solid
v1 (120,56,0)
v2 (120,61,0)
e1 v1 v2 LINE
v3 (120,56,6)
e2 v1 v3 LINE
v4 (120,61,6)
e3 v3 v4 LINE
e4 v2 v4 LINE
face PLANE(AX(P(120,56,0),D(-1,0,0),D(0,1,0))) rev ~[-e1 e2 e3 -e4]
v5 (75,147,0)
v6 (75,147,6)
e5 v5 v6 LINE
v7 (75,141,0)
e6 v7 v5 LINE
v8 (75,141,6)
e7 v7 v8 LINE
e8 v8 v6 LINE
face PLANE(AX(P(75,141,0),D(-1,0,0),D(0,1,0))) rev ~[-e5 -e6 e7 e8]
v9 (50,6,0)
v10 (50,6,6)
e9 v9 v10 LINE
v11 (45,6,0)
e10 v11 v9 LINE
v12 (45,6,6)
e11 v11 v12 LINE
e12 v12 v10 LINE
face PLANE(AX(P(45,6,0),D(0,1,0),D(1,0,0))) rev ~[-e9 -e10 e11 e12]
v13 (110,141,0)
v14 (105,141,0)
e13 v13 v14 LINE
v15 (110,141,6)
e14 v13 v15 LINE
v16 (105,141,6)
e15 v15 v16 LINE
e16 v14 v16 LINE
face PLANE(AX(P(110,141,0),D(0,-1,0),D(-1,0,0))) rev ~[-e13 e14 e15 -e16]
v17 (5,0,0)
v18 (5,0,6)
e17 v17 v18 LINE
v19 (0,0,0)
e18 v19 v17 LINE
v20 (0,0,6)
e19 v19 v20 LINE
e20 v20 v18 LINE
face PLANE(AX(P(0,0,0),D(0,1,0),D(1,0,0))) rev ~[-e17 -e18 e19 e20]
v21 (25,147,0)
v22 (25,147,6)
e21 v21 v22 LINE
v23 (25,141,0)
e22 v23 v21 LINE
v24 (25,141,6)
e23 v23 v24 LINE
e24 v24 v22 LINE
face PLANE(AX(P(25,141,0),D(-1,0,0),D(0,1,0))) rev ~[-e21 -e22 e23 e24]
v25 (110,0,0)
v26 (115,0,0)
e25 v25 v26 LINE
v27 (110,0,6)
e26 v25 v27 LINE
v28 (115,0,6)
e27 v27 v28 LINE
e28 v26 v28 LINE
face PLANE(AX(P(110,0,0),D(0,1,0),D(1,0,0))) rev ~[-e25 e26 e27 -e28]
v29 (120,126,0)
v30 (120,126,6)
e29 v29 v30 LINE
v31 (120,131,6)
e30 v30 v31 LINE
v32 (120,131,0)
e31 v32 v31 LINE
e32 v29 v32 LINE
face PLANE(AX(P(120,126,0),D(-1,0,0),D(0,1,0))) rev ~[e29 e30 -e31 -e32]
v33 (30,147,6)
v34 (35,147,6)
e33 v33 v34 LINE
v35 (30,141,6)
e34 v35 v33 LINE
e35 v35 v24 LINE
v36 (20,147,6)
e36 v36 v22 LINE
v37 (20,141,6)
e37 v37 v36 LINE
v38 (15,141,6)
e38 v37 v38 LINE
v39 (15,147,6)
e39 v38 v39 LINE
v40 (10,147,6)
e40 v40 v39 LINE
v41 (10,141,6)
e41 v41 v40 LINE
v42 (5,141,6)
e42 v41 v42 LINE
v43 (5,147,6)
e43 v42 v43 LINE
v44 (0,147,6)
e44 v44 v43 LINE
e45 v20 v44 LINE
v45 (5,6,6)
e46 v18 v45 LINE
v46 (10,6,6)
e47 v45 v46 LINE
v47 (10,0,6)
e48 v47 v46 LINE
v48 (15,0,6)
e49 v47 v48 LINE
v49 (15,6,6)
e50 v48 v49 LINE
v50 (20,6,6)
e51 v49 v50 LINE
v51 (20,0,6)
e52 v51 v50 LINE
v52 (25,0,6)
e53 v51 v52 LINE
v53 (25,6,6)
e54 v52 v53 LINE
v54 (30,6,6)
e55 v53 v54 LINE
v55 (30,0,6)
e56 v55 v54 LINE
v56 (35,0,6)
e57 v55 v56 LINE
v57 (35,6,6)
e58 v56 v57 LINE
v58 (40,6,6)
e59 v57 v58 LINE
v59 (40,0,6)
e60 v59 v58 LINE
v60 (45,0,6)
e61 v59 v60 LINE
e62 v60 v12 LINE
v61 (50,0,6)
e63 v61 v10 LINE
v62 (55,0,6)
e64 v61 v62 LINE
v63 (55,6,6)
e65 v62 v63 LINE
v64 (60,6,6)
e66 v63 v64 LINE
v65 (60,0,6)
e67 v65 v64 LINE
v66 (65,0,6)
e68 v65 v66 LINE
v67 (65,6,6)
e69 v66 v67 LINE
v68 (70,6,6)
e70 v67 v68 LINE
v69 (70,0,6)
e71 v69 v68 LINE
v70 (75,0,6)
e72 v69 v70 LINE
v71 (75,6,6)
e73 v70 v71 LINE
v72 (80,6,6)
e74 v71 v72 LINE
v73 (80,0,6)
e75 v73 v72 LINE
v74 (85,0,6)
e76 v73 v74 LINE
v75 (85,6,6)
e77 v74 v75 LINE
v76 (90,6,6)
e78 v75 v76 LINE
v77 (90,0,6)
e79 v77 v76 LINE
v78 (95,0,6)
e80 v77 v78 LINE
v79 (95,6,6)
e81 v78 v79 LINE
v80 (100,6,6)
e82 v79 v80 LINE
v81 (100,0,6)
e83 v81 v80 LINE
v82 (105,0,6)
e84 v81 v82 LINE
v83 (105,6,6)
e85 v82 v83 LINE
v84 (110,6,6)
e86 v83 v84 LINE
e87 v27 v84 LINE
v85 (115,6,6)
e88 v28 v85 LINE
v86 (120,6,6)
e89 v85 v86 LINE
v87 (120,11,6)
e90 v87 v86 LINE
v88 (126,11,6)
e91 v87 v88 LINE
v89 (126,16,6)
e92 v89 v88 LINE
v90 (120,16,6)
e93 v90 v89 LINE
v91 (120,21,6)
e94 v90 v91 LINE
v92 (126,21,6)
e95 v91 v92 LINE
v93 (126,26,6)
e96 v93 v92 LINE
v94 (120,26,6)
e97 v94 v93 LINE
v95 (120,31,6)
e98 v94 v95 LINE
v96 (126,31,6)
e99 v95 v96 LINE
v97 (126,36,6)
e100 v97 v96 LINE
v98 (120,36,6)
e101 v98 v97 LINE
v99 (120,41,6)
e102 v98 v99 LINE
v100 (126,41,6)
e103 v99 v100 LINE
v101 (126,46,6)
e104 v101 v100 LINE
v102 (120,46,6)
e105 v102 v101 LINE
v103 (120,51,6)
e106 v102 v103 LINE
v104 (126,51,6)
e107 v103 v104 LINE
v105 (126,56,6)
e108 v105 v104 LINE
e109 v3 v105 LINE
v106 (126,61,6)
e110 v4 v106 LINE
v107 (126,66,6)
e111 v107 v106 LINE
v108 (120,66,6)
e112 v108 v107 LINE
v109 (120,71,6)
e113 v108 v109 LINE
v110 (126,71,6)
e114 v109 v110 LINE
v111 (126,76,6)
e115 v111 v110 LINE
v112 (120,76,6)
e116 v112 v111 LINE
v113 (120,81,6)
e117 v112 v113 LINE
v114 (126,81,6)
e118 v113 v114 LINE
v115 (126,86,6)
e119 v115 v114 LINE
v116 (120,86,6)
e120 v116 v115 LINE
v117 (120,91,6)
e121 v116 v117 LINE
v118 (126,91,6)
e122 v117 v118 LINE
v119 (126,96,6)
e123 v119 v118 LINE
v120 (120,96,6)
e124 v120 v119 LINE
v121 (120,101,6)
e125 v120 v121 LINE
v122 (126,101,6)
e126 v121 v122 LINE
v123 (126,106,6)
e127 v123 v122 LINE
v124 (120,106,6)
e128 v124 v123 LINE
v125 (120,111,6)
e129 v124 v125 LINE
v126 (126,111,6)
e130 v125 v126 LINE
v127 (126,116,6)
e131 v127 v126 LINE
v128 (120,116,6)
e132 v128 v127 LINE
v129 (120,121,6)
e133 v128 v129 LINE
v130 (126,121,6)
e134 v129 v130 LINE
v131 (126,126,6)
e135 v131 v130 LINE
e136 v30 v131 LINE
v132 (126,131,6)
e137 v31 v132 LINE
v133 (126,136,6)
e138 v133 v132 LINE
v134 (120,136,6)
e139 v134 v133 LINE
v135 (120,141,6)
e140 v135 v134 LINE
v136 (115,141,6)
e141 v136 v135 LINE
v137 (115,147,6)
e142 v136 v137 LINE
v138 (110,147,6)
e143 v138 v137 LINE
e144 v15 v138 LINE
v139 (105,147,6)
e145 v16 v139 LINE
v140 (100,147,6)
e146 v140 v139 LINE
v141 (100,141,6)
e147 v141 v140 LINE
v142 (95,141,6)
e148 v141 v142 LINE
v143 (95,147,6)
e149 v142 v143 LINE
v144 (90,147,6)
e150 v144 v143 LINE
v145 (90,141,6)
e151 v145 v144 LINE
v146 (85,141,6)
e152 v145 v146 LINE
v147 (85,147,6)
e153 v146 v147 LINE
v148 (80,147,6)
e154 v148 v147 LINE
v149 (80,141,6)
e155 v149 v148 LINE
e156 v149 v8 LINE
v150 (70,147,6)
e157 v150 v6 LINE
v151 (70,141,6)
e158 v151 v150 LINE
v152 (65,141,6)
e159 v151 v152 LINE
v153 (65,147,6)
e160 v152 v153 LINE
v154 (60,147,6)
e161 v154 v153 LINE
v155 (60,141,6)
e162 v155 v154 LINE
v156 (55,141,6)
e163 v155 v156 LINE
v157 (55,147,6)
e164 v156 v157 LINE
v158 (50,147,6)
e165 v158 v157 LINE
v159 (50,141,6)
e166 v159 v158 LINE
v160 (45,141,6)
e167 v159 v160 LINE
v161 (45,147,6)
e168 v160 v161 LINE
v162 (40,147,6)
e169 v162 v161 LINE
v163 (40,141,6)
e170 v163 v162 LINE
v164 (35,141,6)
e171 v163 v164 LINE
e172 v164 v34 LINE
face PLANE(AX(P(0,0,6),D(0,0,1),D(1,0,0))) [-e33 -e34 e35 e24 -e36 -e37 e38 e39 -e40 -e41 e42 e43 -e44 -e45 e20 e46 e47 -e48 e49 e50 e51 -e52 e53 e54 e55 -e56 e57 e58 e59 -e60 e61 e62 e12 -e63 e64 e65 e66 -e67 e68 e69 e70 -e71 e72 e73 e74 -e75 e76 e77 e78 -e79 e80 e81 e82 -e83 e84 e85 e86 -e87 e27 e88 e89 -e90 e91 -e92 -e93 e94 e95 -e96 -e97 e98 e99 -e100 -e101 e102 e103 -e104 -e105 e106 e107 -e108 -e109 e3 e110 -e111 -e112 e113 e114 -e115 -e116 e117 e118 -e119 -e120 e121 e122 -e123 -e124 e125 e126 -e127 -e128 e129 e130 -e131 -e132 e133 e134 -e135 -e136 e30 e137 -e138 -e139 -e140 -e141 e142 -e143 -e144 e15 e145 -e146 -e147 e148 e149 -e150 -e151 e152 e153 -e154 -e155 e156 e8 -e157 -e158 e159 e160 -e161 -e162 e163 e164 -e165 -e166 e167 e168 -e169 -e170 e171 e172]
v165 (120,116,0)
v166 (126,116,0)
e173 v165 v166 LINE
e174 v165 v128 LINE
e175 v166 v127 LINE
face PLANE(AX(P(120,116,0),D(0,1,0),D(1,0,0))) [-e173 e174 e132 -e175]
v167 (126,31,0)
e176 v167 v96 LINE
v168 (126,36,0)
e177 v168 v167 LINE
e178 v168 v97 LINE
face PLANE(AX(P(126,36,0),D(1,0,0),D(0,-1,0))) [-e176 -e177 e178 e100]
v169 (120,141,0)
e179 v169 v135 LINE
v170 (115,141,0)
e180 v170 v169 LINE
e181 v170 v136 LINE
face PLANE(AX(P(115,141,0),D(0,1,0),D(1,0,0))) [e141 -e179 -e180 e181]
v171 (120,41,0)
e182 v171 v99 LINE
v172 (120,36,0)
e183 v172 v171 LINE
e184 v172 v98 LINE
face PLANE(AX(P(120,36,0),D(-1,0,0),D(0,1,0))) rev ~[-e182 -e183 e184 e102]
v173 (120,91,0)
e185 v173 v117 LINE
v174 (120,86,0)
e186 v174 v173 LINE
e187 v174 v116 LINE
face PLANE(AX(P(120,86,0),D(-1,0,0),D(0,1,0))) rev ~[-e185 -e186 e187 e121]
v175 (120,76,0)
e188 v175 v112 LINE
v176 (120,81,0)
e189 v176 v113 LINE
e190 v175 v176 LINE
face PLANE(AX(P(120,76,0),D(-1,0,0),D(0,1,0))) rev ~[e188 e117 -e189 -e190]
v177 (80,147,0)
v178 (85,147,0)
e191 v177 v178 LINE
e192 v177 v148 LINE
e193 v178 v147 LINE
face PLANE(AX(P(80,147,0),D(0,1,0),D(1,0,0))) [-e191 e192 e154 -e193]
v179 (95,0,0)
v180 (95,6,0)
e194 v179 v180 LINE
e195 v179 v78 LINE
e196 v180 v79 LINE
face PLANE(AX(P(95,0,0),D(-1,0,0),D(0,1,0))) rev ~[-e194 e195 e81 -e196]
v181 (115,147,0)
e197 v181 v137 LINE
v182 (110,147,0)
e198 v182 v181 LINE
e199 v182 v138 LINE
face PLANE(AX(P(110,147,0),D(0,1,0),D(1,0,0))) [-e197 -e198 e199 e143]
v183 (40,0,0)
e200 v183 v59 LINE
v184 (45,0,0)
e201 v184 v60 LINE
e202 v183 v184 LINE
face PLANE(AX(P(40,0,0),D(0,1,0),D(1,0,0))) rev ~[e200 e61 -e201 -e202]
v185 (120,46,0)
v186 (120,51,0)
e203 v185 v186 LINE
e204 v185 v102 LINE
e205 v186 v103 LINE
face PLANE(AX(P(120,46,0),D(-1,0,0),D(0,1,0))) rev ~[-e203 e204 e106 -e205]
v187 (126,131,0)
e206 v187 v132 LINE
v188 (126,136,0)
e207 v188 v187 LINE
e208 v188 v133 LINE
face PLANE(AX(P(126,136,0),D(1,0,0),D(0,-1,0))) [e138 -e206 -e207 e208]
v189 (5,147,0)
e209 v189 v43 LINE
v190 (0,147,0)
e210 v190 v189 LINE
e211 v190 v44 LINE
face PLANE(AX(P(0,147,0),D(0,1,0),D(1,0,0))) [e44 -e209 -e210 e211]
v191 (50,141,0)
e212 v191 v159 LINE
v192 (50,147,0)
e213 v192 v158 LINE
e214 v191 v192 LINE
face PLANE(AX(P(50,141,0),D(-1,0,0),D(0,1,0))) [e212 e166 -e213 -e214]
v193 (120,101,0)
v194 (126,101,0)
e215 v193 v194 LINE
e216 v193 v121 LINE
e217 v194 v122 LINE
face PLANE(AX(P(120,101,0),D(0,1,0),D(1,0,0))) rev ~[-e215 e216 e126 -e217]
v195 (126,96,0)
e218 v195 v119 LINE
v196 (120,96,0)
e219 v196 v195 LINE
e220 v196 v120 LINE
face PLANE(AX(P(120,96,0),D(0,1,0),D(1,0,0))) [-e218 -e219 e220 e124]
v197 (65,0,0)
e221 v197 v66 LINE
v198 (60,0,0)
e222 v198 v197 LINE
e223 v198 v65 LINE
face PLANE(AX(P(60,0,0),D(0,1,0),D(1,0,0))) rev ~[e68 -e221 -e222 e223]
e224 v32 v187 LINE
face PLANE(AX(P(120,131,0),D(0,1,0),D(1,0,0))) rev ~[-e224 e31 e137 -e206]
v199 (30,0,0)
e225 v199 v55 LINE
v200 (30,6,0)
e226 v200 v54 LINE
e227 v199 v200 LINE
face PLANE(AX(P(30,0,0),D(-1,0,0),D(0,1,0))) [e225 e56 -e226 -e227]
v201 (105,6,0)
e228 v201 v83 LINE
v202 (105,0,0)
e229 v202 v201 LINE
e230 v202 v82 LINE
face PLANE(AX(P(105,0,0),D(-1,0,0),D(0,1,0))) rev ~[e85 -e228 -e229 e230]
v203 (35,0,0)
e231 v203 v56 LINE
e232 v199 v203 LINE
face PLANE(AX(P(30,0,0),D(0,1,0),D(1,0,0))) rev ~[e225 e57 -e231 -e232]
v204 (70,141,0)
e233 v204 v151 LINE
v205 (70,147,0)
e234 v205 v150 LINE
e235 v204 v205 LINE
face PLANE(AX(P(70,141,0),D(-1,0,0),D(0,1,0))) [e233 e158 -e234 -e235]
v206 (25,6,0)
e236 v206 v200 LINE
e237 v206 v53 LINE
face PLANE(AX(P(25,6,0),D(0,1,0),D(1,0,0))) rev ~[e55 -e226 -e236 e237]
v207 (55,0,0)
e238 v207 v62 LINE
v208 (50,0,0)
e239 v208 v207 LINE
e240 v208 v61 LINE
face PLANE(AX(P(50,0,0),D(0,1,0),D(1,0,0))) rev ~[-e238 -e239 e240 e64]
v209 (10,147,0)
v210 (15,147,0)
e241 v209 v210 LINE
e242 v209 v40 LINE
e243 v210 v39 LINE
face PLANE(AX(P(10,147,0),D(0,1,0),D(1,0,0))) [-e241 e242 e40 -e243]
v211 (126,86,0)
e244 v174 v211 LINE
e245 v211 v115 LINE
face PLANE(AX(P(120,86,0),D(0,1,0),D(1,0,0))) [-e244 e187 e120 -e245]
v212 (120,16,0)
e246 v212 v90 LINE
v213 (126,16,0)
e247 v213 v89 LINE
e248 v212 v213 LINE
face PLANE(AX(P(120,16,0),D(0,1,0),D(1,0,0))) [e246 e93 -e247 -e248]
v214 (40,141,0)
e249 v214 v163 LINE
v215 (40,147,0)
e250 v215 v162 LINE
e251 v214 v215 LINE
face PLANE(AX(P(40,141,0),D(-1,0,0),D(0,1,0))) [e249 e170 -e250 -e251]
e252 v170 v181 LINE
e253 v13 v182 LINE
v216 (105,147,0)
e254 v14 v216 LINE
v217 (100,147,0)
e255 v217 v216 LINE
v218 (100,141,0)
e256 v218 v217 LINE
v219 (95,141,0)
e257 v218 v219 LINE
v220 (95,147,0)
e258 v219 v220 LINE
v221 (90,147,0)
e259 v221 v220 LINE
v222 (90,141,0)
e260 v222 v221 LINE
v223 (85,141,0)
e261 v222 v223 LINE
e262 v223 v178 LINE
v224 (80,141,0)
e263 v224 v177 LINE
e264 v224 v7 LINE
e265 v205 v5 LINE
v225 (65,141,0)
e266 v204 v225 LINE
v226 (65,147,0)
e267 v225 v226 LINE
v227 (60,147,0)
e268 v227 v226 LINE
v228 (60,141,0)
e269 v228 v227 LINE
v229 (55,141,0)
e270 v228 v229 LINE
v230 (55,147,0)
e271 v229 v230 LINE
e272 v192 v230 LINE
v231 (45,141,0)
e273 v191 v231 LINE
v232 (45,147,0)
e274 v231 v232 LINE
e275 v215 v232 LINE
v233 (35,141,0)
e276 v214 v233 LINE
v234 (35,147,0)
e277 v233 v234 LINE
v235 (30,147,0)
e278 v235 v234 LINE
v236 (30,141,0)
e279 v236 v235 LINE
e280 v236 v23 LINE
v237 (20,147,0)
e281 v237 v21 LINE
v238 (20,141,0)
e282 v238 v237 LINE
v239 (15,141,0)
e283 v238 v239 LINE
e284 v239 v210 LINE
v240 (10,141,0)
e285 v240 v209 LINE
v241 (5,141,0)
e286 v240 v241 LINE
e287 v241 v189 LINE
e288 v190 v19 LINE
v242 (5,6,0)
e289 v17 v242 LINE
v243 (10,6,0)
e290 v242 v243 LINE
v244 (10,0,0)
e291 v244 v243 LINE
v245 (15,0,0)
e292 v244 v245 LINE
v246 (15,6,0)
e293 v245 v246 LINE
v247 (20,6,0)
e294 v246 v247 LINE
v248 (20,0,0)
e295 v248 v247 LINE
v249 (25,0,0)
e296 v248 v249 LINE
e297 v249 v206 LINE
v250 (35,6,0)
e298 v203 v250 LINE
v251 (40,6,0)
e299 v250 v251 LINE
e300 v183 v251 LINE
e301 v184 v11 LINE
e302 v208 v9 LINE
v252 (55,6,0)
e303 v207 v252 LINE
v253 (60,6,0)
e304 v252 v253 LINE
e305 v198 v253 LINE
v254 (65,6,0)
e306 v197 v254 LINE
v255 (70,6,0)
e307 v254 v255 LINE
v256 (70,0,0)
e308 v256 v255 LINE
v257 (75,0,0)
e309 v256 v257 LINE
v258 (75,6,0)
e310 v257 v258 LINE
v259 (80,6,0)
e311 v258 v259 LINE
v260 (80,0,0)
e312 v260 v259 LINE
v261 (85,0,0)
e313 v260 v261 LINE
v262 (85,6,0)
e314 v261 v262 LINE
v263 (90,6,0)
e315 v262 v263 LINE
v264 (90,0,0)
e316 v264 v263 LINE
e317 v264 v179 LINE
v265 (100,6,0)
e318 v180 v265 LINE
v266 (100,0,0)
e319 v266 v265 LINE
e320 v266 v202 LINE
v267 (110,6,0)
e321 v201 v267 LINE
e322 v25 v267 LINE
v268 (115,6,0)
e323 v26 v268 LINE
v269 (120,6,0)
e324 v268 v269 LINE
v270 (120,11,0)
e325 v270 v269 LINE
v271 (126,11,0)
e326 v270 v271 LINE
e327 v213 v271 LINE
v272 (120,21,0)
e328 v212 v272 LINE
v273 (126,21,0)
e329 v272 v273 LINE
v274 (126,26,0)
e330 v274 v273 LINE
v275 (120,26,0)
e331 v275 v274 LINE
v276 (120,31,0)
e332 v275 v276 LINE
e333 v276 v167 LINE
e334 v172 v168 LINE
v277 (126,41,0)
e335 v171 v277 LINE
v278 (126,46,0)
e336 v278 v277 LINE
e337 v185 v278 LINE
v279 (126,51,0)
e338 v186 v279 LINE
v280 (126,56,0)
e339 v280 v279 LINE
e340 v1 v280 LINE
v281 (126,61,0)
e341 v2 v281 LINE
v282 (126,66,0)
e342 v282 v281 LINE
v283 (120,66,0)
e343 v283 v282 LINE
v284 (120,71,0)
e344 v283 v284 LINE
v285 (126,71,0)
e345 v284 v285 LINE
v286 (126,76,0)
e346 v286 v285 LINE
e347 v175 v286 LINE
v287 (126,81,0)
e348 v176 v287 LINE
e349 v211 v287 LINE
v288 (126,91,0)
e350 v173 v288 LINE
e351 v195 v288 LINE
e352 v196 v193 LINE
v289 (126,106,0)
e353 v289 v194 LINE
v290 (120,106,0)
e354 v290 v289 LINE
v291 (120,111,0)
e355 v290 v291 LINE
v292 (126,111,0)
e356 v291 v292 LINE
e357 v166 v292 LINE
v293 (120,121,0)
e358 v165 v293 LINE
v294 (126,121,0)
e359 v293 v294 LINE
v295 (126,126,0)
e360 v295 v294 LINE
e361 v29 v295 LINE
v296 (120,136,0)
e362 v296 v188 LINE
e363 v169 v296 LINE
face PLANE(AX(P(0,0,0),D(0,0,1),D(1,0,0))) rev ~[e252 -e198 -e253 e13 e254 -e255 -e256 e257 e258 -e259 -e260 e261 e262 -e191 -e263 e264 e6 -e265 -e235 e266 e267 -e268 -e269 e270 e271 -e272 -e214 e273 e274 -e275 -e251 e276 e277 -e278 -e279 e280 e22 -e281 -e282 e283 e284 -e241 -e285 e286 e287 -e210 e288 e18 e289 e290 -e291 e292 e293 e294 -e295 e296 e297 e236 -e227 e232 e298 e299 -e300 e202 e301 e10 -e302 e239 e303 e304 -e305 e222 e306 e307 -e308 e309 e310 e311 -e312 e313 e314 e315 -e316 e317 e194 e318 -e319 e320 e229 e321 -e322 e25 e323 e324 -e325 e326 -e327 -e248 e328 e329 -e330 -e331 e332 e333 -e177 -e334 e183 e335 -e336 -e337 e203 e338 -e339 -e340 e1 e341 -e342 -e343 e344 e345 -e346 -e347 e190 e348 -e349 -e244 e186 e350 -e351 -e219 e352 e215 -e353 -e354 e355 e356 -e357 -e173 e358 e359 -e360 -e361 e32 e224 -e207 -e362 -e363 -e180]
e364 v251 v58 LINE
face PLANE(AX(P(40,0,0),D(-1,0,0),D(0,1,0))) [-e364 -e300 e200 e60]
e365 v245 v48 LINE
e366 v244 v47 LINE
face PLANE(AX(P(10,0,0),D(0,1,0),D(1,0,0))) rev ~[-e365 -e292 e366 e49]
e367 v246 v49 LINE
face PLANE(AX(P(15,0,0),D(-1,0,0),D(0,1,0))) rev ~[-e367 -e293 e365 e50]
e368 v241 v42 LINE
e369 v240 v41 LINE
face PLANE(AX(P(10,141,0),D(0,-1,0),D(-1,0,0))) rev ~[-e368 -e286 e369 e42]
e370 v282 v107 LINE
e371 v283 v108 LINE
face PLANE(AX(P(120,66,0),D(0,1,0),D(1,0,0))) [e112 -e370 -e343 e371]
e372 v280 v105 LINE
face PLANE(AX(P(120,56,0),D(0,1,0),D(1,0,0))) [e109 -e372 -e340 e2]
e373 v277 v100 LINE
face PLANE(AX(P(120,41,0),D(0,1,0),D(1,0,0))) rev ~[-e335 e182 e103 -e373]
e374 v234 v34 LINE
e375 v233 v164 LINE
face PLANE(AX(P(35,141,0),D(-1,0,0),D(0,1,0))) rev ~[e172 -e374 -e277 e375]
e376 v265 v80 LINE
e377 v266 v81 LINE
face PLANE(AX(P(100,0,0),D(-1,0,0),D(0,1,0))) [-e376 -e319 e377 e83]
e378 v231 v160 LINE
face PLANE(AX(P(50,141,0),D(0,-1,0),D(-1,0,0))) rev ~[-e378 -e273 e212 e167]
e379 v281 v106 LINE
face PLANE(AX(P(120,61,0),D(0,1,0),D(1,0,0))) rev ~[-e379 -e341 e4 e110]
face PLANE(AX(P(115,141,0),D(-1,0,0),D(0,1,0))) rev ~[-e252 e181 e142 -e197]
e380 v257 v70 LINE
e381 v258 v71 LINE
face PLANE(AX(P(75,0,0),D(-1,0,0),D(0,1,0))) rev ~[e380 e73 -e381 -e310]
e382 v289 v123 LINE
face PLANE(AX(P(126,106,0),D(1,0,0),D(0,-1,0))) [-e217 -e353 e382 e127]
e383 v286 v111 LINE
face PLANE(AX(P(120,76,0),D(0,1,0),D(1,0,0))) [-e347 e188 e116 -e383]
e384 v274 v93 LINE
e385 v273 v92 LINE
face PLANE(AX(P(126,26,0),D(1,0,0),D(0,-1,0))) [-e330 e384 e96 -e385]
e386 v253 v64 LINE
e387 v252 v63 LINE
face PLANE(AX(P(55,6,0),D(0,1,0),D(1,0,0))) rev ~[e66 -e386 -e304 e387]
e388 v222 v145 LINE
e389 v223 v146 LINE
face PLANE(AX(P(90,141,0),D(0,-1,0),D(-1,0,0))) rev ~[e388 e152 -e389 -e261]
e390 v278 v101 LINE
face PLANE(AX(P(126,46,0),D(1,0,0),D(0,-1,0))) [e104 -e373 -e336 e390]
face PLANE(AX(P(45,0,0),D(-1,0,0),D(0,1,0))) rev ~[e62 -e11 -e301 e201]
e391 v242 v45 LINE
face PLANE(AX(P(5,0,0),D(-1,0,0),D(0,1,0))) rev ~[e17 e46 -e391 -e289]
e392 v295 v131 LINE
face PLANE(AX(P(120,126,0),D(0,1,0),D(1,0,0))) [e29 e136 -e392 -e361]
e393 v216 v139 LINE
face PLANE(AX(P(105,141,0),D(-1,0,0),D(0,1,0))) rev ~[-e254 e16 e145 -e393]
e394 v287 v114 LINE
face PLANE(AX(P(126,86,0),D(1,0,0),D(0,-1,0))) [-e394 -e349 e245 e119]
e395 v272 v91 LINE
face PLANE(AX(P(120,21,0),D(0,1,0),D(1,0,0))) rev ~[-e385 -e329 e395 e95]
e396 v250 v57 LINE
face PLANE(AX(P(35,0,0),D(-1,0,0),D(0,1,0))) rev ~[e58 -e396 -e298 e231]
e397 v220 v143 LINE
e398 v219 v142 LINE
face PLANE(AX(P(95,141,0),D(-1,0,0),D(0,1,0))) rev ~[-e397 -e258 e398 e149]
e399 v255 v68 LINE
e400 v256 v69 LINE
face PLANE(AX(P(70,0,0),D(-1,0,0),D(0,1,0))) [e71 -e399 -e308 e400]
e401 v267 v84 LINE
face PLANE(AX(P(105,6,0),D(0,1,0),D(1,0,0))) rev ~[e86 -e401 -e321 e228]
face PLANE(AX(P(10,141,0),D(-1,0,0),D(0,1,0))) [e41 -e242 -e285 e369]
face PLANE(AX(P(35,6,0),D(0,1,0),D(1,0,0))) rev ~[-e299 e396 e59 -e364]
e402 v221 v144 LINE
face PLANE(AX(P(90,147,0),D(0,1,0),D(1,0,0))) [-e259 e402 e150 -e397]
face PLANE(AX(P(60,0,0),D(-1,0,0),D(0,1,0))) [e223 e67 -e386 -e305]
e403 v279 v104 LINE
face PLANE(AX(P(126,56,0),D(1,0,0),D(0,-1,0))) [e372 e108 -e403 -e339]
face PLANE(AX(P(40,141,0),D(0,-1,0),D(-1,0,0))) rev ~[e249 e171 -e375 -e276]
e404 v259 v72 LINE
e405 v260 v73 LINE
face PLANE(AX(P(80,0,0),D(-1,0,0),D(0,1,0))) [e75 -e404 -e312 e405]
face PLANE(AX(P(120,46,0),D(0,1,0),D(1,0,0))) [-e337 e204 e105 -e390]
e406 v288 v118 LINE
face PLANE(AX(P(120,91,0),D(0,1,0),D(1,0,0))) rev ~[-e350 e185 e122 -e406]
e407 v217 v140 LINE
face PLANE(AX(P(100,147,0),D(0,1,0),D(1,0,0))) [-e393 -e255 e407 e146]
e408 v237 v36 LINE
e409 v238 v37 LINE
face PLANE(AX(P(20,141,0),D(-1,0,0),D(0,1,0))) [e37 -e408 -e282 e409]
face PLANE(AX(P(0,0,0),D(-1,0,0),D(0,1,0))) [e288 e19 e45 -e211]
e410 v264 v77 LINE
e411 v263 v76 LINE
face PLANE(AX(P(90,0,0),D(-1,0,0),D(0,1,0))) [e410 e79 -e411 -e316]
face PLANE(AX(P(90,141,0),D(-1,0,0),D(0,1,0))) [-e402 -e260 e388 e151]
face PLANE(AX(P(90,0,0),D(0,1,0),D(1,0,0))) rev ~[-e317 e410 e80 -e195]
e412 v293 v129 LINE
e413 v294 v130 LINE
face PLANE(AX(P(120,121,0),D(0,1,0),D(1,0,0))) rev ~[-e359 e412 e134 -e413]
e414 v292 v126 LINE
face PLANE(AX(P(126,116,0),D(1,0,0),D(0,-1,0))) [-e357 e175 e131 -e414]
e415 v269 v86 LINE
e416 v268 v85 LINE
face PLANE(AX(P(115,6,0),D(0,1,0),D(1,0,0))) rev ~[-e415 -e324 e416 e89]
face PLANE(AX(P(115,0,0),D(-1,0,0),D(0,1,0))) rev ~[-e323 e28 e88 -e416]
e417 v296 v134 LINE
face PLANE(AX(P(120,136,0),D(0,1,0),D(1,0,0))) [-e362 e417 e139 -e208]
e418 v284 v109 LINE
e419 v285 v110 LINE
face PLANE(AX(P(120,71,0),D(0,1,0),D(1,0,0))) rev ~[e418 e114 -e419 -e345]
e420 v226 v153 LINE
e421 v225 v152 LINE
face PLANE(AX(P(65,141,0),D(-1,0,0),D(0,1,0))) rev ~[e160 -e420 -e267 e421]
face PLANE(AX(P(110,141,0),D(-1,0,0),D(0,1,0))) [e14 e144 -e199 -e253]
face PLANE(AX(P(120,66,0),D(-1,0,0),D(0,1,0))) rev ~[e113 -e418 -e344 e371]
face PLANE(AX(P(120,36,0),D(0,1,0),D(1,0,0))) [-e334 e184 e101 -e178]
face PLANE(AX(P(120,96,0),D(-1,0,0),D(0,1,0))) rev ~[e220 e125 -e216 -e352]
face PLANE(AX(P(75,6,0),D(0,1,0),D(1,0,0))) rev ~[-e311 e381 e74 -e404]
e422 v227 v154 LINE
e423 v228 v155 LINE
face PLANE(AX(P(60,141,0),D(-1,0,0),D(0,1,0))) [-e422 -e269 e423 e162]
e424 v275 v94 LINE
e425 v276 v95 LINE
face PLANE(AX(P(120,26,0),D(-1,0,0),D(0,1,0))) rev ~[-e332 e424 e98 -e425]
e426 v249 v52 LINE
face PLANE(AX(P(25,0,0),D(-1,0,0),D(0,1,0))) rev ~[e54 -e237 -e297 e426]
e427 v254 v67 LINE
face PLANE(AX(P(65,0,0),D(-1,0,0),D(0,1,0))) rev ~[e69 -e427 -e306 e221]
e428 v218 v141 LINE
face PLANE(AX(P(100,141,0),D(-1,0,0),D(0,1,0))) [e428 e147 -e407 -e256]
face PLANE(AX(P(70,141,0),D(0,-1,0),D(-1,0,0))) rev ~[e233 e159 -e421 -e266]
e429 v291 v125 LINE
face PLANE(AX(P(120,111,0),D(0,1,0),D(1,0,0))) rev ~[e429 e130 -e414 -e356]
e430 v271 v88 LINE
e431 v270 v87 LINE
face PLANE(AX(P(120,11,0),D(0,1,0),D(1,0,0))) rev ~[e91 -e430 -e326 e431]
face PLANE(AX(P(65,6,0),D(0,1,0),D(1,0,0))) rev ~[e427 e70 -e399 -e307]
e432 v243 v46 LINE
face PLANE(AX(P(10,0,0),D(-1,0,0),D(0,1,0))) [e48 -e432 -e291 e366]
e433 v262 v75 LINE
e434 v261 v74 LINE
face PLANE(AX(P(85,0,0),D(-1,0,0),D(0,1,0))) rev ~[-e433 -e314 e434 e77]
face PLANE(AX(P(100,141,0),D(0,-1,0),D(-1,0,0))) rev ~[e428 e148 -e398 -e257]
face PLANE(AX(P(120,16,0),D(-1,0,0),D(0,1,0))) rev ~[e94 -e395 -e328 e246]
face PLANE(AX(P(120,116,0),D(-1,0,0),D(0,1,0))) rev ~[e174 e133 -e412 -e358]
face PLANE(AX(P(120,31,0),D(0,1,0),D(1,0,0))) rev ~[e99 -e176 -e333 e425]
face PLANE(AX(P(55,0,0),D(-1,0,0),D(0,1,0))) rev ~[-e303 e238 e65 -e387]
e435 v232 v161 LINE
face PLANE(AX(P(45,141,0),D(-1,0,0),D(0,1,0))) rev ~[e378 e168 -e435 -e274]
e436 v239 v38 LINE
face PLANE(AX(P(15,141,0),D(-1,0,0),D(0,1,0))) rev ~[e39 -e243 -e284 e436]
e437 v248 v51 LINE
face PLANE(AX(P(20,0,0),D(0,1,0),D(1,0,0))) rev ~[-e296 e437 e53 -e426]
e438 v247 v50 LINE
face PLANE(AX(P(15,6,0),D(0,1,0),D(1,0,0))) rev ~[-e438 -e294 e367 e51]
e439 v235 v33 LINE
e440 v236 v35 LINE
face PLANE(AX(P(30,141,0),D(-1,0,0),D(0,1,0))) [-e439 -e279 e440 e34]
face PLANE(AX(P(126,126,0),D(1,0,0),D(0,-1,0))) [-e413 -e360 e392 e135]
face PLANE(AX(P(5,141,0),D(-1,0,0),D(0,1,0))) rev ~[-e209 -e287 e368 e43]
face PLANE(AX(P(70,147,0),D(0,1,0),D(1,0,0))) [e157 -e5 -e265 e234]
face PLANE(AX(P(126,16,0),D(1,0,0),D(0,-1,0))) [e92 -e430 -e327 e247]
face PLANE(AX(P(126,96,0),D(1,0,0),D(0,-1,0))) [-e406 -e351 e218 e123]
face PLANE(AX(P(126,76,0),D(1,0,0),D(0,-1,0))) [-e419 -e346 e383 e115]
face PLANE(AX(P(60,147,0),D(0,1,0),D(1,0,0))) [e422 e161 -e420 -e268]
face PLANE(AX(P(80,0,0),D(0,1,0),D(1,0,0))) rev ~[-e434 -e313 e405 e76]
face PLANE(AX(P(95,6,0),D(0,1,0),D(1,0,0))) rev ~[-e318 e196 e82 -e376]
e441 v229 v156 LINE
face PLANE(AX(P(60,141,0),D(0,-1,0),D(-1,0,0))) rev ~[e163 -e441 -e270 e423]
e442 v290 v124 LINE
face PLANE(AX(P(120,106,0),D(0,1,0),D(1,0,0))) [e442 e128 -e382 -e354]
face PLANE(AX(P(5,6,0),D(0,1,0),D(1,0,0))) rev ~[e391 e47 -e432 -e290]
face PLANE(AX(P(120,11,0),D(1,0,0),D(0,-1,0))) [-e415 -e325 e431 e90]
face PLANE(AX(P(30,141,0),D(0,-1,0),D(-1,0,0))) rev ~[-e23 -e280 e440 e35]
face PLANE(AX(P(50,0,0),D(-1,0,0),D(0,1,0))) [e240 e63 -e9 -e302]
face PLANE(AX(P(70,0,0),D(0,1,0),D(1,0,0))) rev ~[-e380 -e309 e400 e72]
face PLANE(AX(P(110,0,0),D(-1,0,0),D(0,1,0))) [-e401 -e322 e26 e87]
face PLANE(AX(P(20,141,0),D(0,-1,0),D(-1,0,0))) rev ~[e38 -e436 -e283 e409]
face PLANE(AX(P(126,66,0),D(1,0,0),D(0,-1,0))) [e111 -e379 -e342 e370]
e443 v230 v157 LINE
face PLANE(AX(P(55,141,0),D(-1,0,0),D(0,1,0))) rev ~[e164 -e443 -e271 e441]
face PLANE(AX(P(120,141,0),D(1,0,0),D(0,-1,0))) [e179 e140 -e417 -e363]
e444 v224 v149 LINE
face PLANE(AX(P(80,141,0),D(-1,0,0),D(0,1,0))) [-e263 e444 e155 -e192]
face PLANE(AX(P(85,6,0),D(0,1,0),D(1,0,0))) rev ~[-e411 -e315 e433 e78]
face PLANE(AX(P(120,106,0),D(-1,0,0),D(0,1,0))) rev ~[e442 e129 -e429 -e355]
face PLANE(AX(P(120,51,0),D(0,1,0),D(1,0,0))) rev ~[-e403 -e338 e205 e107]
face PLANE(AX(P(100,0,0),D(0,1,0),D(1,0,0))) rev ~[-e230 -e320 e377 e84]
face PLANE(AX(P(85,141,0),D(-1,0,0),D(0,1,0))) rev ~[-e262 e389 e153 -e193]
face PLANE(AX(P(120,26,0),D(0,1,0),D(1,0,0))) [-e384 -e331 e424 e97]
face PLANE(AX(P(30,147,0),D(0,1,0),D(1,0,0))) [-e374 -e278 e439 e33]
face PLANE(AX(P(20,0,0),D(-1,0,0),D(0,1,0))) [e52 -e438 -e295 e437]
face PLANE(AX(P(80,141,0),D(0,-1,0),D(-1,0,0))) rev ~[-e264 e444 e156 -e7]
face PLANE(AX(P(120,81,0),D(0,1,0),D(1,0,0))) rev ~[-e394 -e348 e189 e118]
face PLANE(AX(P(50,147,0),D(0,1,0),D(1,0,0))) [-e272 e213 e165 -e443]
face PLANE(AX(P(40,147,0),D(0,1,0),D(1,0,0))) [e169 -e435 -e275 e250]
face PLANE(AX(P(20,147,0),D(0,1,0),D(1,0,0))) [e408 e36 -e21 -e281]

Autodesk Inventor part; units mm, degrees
ref_plane "YZ Plane" through (0, 0, 0) normal (1, 0, 0) x (0, 1, 0)
ref_plane "XZ Plane" through (0, 0, 0) normal (0, 1, 0) x (-1, 0, 0)
ref_plane "XY Plane" through (0, 0, 0) normal (0, 0, 1) x (1, 0, 0)
sketch "Эскиз1" plane through (0, 0, 0) normal (0, 0, 1) x (1, 0, 0)
  line L0 (0, 0) -> (5, 0) projected
  line L1 (5, 0) -> (5, 6) projected
  line L2 (0, 6) -> (5, 6) projected
  line L3 (0, 0) -> (0, 6) projected
  line L4 (10, 0) -> (15, 0) projected
  line L5 (15, 0) -> (15, 6) projected
  line L6 (10, 6) -> (15, 6) projected
  line L7 (10, 0) -> (10, 6) projected
  line L8 (20, 0) -> (25, 0) projected
  line L9 (25, 0) -> (25, 6) projected
  line L10 (20, 6) -> (25, 6) projected
  line L11 (20, 0) -> (20, 6) projected
  line L12 (30, 0) -> (35, 0) projected
  line L13 (35, 0) -> (35, 6) projected
  line L14 (30, 6) -> (35, 6) projected
  line L15 (30, 0) -> (30, 6) projected
  line L16 (40, 0) -> (45, 0) projected
  line L17 (45, 0) -> (45, 6) projected
  line L18 (40, 6) -> (45, 6) projected
  line L19 (40, 0) -> (40, 6) projected
  line L20 (50, 0) -> (55, 0) projected
  line L21 (55, 0) -> (55, 6) projected
  line L22 (50, 6) -> (55, 6) projected
  line L23 (50, 0) -> (50, 6) projected
  line L24 (60, 0) -> (65, 0) projected
  line L25 (65, 0) -> (65, 6) projected
  line L26 (60, 6) -> (65, 6) projected
  line L27 (60, 0) -> (60, 6) projected
  line L28 (70, 0) -> (75, 0) projected
  line L29 (75, 0) -> (75, 6) projected
  line L30 (70, 6) -> (75, 6) projected
  line L31 (70, 0) -> (70, 6) projected
  line L32 (80, 0) -> (85, 0) projected
  line L33 (85, 0) -> (85, 6) projected
  line L34 (80, 6) -> (85, 6) projected
  line L35 (80, 0) -> (80, 6) projected
  line L36 (90, 0) -> (95, 0) projected
  line L37 (95, 0) -> (95, 6) projected
  line L38 (90, 6) -> (95, 6) projected
  line L39 (90, 0) -> (90, 6) projected
  line L40 (100, 0) -> (105, 0) projected
  line L41 (105, 0) -> (105, 6) projected
  line L42 (100, 6) -> (105, 6) projected
  line L43 (100, 0) -> (100, 6) projected
  line L44 (110, 0) -> (115, 0) projected
  line L45 (115, 0) -> (115, 6) projected
  line L46 (110, 6) -> (115, 6) projected
  line L47 (110, 0) -> (110, 6) projected
  line L48 (115, 6) -> (120, 6) projected
  line L49 (120, 11) -> (120, 6) projected
  line L50 (120, 16) -> (120, 11) projected
  line L51 (120, 11) -> (126, 11) projected
  line L52 (126, 16) -> (126, 11) projected
  line L53 (120, 16) -> (126, 16) projected
  line L54 (0, 141) -> (5, 141) projected
  line L55 (5, 141) -> (5, 147) projected
  line L56 (0, 147) -> (5, 147) projected
  line L57 (0, 141) -> (0, 147) projected
  line L58 (15, 141) -> (15, 147) projected
  line L59 (10, 141) -> (15, 141) projected
  line L60 (15, 141) -> (15, 147) projected
  line L61 (10, 147) -> (15, 147) projected
  line L62 (10, 141) -> (10, 147) projected
  line L63 (20, 141) -> (25, 141) projected
  line L64 (25, 141) -> (25, 147) projected
  line L65 (20, 147) -> (25, 147) projected
  line L66 (20, 141) -> (20, 147) projected
  line L67 (30, 141) -> (35, 141) projected
  line L68 (35, 141) -> (35, 147) projected
  line L69 (30, 147) -> (35, 147) projected
  line L70 (30, 141) -> (30, 147) projected
  line L71 (40, 141) -> (45, 141) projected
  line L72 (45, 141) -> (45, 147) projected
  line L73 (40, 147) -> (45, 147) projected
  line L74 (40, 141) -> (40, 147) projected
  line L75 (50, 141) -> (55, 141) projected
  line L76 (55, 141) -> (55, 147) projected
  line L77 (50, 147) -> (55, 147) projected
  line L78 (50, 141) -> (50, 147) projected
  line L79 (60, 141) -> (65, 141) projected
  line L80 (65, 141) -> (65, 147) projected
  line L81 (60, 147) -> (65, 147) projected
  line L82 (60, 141) -> (60, 147) projected
  line L83 (70, 141) -> (75, 141) projected
  line L84 (75, 141) -> (75, 147) projected
  line L85 (70, 147) -> (75, 147) projected
  line L86 (70, 141) -> (70, 147) projected
  line L87 (80, 141) -> (85, 141) projected
  line L88 (85, 141) -> (85, 147) projected
  line L89 (80, 147) -> (85, 147) projected
  line L90 (80, 141) -> (80, 147) projected
  line L91 (90, 141) -> (95, 141) projected
  line L92 (95, 141) -> (95, 147) projected
  line L93 (90, 147) -> (95, 147) projected
  line L94 (90, 141) -> (90, 147) projected
  line L95 (100, 141) -> (105, 141) projected
  line L96 (105, 141) -> (105, 147) projected
  line L97 (100, 147) -> (105, 147) projected
  line L98 (100, 141) -> (100, 147) projected
  line L99 (110, 141) -> (115, 141) projected
  line L100 (115, 141) -> (115, 147) projected
  line L101 (110, 147) -> (115, 147) projected
  line L102 (110, 141) -> (110, 147) projected
  line L103 (115, 141) -> (120, 141) projected
  line L104 (120, 141) -> (120, 136) projected
  line L105 (120, 136) -> (120, 131) projected
  line L106 (120, 131) -> (126, 131) projected
  line L107 (126, 136) -> (126, 131) projected
  line L108 (120, 136) -> (126, 136) projected
  line L109 (120, 126) -> (120, 121) projected
  line L110 (120, 121) -> (126, 121) projected
  line L111 (126, 126) -> (126, 121) projected
  line L112 (120, 126) -> (126, 126) projected
  line L113 (120, 116) -> (120, 111) projected
  line L114 (120, 111) -> (126, 111) projected
  line L115 (126, 116) -> (126, 111) projected
  line L116 (120, 116) -> (126, 116) projected
  line L117 (120, 106) -> (120, 101) projected
  line L118 (120, 101) -> (126, 101) projected
  line L119 (126, 106) -> (126, 101) projected
  line L120 (120, 106) -> (126, 106) projected
  line L121 (120, 96) -> (120, 91) projected
  line L122 (120, 91) -> (126, 91) projected
  line L123 (126, 96) -> (126, 91) projected
  line L124 (120, 96) -> (126, 96) projected
  line L125 (120, 86) -> (120, 81) projected
  line L126 (120, 81) -> (126, 81) projected
  line L127 (126, 86) -> (126, 81) projected
  line L128 (120, 86) -> (126, 86) projected
  line L129 (120, 76) -> (120, 71) projected
  line L130 (120, 71) -> (126, 71) projected
  line L131 (126, 76) -> (126, 71) projected
  line L132 (120, 76) -> (126, 76) projected
  line L133 (120, 66) -> (120, 61) projected
  line L134 (120, 61) -> (126, 61) projected
  line L135 (126, 66) -> (126, 61) projected
  line L136 (120, 66) -> (126, 66) projected
  line L137 (120, 56) -> (120, 51) projected
  line L138 (120, 51) -> (126, 51) projected
  line L139 (126, 56) -> (126, 51) projected
  line L140 (120, 56) -> (126, 56) projected
  line L141 (120, 46) -> (120, 41) projected
  line L142 (120, 41) -> (126, 41) projected
  line L143 (126, 46) -> (126, 41) projected
  line L144 (120, 46) -> (126, 46) projected
  line L145 (120, 36) -> (120, 31) projected
  line L146 (120, 31) -> (126, 31) projected
  line L147 (126, 36) -> (126, 31) projected
  line L148 (120, 36) -> (126, 36) projected
  line L149 (120, 26) -> (120, 21) projected
  line L150 (120, 21) -> (126, 21) projected
  line L151 (126, 26) -> (126, 21) projected
  line L152 (120, 26) -> (126, 26) projected
  line L153 (0, 6) -> (120, 6)
  line L154 (120, 6) -> (120, 141)
  line L155 (120, 141) -> (0, 141)
  line L156 (0, 141) -> (0, 6)
extrude "Выдавливание1" add sketch "Эскиз1" along normal blind 6
properties part number "unlong"
